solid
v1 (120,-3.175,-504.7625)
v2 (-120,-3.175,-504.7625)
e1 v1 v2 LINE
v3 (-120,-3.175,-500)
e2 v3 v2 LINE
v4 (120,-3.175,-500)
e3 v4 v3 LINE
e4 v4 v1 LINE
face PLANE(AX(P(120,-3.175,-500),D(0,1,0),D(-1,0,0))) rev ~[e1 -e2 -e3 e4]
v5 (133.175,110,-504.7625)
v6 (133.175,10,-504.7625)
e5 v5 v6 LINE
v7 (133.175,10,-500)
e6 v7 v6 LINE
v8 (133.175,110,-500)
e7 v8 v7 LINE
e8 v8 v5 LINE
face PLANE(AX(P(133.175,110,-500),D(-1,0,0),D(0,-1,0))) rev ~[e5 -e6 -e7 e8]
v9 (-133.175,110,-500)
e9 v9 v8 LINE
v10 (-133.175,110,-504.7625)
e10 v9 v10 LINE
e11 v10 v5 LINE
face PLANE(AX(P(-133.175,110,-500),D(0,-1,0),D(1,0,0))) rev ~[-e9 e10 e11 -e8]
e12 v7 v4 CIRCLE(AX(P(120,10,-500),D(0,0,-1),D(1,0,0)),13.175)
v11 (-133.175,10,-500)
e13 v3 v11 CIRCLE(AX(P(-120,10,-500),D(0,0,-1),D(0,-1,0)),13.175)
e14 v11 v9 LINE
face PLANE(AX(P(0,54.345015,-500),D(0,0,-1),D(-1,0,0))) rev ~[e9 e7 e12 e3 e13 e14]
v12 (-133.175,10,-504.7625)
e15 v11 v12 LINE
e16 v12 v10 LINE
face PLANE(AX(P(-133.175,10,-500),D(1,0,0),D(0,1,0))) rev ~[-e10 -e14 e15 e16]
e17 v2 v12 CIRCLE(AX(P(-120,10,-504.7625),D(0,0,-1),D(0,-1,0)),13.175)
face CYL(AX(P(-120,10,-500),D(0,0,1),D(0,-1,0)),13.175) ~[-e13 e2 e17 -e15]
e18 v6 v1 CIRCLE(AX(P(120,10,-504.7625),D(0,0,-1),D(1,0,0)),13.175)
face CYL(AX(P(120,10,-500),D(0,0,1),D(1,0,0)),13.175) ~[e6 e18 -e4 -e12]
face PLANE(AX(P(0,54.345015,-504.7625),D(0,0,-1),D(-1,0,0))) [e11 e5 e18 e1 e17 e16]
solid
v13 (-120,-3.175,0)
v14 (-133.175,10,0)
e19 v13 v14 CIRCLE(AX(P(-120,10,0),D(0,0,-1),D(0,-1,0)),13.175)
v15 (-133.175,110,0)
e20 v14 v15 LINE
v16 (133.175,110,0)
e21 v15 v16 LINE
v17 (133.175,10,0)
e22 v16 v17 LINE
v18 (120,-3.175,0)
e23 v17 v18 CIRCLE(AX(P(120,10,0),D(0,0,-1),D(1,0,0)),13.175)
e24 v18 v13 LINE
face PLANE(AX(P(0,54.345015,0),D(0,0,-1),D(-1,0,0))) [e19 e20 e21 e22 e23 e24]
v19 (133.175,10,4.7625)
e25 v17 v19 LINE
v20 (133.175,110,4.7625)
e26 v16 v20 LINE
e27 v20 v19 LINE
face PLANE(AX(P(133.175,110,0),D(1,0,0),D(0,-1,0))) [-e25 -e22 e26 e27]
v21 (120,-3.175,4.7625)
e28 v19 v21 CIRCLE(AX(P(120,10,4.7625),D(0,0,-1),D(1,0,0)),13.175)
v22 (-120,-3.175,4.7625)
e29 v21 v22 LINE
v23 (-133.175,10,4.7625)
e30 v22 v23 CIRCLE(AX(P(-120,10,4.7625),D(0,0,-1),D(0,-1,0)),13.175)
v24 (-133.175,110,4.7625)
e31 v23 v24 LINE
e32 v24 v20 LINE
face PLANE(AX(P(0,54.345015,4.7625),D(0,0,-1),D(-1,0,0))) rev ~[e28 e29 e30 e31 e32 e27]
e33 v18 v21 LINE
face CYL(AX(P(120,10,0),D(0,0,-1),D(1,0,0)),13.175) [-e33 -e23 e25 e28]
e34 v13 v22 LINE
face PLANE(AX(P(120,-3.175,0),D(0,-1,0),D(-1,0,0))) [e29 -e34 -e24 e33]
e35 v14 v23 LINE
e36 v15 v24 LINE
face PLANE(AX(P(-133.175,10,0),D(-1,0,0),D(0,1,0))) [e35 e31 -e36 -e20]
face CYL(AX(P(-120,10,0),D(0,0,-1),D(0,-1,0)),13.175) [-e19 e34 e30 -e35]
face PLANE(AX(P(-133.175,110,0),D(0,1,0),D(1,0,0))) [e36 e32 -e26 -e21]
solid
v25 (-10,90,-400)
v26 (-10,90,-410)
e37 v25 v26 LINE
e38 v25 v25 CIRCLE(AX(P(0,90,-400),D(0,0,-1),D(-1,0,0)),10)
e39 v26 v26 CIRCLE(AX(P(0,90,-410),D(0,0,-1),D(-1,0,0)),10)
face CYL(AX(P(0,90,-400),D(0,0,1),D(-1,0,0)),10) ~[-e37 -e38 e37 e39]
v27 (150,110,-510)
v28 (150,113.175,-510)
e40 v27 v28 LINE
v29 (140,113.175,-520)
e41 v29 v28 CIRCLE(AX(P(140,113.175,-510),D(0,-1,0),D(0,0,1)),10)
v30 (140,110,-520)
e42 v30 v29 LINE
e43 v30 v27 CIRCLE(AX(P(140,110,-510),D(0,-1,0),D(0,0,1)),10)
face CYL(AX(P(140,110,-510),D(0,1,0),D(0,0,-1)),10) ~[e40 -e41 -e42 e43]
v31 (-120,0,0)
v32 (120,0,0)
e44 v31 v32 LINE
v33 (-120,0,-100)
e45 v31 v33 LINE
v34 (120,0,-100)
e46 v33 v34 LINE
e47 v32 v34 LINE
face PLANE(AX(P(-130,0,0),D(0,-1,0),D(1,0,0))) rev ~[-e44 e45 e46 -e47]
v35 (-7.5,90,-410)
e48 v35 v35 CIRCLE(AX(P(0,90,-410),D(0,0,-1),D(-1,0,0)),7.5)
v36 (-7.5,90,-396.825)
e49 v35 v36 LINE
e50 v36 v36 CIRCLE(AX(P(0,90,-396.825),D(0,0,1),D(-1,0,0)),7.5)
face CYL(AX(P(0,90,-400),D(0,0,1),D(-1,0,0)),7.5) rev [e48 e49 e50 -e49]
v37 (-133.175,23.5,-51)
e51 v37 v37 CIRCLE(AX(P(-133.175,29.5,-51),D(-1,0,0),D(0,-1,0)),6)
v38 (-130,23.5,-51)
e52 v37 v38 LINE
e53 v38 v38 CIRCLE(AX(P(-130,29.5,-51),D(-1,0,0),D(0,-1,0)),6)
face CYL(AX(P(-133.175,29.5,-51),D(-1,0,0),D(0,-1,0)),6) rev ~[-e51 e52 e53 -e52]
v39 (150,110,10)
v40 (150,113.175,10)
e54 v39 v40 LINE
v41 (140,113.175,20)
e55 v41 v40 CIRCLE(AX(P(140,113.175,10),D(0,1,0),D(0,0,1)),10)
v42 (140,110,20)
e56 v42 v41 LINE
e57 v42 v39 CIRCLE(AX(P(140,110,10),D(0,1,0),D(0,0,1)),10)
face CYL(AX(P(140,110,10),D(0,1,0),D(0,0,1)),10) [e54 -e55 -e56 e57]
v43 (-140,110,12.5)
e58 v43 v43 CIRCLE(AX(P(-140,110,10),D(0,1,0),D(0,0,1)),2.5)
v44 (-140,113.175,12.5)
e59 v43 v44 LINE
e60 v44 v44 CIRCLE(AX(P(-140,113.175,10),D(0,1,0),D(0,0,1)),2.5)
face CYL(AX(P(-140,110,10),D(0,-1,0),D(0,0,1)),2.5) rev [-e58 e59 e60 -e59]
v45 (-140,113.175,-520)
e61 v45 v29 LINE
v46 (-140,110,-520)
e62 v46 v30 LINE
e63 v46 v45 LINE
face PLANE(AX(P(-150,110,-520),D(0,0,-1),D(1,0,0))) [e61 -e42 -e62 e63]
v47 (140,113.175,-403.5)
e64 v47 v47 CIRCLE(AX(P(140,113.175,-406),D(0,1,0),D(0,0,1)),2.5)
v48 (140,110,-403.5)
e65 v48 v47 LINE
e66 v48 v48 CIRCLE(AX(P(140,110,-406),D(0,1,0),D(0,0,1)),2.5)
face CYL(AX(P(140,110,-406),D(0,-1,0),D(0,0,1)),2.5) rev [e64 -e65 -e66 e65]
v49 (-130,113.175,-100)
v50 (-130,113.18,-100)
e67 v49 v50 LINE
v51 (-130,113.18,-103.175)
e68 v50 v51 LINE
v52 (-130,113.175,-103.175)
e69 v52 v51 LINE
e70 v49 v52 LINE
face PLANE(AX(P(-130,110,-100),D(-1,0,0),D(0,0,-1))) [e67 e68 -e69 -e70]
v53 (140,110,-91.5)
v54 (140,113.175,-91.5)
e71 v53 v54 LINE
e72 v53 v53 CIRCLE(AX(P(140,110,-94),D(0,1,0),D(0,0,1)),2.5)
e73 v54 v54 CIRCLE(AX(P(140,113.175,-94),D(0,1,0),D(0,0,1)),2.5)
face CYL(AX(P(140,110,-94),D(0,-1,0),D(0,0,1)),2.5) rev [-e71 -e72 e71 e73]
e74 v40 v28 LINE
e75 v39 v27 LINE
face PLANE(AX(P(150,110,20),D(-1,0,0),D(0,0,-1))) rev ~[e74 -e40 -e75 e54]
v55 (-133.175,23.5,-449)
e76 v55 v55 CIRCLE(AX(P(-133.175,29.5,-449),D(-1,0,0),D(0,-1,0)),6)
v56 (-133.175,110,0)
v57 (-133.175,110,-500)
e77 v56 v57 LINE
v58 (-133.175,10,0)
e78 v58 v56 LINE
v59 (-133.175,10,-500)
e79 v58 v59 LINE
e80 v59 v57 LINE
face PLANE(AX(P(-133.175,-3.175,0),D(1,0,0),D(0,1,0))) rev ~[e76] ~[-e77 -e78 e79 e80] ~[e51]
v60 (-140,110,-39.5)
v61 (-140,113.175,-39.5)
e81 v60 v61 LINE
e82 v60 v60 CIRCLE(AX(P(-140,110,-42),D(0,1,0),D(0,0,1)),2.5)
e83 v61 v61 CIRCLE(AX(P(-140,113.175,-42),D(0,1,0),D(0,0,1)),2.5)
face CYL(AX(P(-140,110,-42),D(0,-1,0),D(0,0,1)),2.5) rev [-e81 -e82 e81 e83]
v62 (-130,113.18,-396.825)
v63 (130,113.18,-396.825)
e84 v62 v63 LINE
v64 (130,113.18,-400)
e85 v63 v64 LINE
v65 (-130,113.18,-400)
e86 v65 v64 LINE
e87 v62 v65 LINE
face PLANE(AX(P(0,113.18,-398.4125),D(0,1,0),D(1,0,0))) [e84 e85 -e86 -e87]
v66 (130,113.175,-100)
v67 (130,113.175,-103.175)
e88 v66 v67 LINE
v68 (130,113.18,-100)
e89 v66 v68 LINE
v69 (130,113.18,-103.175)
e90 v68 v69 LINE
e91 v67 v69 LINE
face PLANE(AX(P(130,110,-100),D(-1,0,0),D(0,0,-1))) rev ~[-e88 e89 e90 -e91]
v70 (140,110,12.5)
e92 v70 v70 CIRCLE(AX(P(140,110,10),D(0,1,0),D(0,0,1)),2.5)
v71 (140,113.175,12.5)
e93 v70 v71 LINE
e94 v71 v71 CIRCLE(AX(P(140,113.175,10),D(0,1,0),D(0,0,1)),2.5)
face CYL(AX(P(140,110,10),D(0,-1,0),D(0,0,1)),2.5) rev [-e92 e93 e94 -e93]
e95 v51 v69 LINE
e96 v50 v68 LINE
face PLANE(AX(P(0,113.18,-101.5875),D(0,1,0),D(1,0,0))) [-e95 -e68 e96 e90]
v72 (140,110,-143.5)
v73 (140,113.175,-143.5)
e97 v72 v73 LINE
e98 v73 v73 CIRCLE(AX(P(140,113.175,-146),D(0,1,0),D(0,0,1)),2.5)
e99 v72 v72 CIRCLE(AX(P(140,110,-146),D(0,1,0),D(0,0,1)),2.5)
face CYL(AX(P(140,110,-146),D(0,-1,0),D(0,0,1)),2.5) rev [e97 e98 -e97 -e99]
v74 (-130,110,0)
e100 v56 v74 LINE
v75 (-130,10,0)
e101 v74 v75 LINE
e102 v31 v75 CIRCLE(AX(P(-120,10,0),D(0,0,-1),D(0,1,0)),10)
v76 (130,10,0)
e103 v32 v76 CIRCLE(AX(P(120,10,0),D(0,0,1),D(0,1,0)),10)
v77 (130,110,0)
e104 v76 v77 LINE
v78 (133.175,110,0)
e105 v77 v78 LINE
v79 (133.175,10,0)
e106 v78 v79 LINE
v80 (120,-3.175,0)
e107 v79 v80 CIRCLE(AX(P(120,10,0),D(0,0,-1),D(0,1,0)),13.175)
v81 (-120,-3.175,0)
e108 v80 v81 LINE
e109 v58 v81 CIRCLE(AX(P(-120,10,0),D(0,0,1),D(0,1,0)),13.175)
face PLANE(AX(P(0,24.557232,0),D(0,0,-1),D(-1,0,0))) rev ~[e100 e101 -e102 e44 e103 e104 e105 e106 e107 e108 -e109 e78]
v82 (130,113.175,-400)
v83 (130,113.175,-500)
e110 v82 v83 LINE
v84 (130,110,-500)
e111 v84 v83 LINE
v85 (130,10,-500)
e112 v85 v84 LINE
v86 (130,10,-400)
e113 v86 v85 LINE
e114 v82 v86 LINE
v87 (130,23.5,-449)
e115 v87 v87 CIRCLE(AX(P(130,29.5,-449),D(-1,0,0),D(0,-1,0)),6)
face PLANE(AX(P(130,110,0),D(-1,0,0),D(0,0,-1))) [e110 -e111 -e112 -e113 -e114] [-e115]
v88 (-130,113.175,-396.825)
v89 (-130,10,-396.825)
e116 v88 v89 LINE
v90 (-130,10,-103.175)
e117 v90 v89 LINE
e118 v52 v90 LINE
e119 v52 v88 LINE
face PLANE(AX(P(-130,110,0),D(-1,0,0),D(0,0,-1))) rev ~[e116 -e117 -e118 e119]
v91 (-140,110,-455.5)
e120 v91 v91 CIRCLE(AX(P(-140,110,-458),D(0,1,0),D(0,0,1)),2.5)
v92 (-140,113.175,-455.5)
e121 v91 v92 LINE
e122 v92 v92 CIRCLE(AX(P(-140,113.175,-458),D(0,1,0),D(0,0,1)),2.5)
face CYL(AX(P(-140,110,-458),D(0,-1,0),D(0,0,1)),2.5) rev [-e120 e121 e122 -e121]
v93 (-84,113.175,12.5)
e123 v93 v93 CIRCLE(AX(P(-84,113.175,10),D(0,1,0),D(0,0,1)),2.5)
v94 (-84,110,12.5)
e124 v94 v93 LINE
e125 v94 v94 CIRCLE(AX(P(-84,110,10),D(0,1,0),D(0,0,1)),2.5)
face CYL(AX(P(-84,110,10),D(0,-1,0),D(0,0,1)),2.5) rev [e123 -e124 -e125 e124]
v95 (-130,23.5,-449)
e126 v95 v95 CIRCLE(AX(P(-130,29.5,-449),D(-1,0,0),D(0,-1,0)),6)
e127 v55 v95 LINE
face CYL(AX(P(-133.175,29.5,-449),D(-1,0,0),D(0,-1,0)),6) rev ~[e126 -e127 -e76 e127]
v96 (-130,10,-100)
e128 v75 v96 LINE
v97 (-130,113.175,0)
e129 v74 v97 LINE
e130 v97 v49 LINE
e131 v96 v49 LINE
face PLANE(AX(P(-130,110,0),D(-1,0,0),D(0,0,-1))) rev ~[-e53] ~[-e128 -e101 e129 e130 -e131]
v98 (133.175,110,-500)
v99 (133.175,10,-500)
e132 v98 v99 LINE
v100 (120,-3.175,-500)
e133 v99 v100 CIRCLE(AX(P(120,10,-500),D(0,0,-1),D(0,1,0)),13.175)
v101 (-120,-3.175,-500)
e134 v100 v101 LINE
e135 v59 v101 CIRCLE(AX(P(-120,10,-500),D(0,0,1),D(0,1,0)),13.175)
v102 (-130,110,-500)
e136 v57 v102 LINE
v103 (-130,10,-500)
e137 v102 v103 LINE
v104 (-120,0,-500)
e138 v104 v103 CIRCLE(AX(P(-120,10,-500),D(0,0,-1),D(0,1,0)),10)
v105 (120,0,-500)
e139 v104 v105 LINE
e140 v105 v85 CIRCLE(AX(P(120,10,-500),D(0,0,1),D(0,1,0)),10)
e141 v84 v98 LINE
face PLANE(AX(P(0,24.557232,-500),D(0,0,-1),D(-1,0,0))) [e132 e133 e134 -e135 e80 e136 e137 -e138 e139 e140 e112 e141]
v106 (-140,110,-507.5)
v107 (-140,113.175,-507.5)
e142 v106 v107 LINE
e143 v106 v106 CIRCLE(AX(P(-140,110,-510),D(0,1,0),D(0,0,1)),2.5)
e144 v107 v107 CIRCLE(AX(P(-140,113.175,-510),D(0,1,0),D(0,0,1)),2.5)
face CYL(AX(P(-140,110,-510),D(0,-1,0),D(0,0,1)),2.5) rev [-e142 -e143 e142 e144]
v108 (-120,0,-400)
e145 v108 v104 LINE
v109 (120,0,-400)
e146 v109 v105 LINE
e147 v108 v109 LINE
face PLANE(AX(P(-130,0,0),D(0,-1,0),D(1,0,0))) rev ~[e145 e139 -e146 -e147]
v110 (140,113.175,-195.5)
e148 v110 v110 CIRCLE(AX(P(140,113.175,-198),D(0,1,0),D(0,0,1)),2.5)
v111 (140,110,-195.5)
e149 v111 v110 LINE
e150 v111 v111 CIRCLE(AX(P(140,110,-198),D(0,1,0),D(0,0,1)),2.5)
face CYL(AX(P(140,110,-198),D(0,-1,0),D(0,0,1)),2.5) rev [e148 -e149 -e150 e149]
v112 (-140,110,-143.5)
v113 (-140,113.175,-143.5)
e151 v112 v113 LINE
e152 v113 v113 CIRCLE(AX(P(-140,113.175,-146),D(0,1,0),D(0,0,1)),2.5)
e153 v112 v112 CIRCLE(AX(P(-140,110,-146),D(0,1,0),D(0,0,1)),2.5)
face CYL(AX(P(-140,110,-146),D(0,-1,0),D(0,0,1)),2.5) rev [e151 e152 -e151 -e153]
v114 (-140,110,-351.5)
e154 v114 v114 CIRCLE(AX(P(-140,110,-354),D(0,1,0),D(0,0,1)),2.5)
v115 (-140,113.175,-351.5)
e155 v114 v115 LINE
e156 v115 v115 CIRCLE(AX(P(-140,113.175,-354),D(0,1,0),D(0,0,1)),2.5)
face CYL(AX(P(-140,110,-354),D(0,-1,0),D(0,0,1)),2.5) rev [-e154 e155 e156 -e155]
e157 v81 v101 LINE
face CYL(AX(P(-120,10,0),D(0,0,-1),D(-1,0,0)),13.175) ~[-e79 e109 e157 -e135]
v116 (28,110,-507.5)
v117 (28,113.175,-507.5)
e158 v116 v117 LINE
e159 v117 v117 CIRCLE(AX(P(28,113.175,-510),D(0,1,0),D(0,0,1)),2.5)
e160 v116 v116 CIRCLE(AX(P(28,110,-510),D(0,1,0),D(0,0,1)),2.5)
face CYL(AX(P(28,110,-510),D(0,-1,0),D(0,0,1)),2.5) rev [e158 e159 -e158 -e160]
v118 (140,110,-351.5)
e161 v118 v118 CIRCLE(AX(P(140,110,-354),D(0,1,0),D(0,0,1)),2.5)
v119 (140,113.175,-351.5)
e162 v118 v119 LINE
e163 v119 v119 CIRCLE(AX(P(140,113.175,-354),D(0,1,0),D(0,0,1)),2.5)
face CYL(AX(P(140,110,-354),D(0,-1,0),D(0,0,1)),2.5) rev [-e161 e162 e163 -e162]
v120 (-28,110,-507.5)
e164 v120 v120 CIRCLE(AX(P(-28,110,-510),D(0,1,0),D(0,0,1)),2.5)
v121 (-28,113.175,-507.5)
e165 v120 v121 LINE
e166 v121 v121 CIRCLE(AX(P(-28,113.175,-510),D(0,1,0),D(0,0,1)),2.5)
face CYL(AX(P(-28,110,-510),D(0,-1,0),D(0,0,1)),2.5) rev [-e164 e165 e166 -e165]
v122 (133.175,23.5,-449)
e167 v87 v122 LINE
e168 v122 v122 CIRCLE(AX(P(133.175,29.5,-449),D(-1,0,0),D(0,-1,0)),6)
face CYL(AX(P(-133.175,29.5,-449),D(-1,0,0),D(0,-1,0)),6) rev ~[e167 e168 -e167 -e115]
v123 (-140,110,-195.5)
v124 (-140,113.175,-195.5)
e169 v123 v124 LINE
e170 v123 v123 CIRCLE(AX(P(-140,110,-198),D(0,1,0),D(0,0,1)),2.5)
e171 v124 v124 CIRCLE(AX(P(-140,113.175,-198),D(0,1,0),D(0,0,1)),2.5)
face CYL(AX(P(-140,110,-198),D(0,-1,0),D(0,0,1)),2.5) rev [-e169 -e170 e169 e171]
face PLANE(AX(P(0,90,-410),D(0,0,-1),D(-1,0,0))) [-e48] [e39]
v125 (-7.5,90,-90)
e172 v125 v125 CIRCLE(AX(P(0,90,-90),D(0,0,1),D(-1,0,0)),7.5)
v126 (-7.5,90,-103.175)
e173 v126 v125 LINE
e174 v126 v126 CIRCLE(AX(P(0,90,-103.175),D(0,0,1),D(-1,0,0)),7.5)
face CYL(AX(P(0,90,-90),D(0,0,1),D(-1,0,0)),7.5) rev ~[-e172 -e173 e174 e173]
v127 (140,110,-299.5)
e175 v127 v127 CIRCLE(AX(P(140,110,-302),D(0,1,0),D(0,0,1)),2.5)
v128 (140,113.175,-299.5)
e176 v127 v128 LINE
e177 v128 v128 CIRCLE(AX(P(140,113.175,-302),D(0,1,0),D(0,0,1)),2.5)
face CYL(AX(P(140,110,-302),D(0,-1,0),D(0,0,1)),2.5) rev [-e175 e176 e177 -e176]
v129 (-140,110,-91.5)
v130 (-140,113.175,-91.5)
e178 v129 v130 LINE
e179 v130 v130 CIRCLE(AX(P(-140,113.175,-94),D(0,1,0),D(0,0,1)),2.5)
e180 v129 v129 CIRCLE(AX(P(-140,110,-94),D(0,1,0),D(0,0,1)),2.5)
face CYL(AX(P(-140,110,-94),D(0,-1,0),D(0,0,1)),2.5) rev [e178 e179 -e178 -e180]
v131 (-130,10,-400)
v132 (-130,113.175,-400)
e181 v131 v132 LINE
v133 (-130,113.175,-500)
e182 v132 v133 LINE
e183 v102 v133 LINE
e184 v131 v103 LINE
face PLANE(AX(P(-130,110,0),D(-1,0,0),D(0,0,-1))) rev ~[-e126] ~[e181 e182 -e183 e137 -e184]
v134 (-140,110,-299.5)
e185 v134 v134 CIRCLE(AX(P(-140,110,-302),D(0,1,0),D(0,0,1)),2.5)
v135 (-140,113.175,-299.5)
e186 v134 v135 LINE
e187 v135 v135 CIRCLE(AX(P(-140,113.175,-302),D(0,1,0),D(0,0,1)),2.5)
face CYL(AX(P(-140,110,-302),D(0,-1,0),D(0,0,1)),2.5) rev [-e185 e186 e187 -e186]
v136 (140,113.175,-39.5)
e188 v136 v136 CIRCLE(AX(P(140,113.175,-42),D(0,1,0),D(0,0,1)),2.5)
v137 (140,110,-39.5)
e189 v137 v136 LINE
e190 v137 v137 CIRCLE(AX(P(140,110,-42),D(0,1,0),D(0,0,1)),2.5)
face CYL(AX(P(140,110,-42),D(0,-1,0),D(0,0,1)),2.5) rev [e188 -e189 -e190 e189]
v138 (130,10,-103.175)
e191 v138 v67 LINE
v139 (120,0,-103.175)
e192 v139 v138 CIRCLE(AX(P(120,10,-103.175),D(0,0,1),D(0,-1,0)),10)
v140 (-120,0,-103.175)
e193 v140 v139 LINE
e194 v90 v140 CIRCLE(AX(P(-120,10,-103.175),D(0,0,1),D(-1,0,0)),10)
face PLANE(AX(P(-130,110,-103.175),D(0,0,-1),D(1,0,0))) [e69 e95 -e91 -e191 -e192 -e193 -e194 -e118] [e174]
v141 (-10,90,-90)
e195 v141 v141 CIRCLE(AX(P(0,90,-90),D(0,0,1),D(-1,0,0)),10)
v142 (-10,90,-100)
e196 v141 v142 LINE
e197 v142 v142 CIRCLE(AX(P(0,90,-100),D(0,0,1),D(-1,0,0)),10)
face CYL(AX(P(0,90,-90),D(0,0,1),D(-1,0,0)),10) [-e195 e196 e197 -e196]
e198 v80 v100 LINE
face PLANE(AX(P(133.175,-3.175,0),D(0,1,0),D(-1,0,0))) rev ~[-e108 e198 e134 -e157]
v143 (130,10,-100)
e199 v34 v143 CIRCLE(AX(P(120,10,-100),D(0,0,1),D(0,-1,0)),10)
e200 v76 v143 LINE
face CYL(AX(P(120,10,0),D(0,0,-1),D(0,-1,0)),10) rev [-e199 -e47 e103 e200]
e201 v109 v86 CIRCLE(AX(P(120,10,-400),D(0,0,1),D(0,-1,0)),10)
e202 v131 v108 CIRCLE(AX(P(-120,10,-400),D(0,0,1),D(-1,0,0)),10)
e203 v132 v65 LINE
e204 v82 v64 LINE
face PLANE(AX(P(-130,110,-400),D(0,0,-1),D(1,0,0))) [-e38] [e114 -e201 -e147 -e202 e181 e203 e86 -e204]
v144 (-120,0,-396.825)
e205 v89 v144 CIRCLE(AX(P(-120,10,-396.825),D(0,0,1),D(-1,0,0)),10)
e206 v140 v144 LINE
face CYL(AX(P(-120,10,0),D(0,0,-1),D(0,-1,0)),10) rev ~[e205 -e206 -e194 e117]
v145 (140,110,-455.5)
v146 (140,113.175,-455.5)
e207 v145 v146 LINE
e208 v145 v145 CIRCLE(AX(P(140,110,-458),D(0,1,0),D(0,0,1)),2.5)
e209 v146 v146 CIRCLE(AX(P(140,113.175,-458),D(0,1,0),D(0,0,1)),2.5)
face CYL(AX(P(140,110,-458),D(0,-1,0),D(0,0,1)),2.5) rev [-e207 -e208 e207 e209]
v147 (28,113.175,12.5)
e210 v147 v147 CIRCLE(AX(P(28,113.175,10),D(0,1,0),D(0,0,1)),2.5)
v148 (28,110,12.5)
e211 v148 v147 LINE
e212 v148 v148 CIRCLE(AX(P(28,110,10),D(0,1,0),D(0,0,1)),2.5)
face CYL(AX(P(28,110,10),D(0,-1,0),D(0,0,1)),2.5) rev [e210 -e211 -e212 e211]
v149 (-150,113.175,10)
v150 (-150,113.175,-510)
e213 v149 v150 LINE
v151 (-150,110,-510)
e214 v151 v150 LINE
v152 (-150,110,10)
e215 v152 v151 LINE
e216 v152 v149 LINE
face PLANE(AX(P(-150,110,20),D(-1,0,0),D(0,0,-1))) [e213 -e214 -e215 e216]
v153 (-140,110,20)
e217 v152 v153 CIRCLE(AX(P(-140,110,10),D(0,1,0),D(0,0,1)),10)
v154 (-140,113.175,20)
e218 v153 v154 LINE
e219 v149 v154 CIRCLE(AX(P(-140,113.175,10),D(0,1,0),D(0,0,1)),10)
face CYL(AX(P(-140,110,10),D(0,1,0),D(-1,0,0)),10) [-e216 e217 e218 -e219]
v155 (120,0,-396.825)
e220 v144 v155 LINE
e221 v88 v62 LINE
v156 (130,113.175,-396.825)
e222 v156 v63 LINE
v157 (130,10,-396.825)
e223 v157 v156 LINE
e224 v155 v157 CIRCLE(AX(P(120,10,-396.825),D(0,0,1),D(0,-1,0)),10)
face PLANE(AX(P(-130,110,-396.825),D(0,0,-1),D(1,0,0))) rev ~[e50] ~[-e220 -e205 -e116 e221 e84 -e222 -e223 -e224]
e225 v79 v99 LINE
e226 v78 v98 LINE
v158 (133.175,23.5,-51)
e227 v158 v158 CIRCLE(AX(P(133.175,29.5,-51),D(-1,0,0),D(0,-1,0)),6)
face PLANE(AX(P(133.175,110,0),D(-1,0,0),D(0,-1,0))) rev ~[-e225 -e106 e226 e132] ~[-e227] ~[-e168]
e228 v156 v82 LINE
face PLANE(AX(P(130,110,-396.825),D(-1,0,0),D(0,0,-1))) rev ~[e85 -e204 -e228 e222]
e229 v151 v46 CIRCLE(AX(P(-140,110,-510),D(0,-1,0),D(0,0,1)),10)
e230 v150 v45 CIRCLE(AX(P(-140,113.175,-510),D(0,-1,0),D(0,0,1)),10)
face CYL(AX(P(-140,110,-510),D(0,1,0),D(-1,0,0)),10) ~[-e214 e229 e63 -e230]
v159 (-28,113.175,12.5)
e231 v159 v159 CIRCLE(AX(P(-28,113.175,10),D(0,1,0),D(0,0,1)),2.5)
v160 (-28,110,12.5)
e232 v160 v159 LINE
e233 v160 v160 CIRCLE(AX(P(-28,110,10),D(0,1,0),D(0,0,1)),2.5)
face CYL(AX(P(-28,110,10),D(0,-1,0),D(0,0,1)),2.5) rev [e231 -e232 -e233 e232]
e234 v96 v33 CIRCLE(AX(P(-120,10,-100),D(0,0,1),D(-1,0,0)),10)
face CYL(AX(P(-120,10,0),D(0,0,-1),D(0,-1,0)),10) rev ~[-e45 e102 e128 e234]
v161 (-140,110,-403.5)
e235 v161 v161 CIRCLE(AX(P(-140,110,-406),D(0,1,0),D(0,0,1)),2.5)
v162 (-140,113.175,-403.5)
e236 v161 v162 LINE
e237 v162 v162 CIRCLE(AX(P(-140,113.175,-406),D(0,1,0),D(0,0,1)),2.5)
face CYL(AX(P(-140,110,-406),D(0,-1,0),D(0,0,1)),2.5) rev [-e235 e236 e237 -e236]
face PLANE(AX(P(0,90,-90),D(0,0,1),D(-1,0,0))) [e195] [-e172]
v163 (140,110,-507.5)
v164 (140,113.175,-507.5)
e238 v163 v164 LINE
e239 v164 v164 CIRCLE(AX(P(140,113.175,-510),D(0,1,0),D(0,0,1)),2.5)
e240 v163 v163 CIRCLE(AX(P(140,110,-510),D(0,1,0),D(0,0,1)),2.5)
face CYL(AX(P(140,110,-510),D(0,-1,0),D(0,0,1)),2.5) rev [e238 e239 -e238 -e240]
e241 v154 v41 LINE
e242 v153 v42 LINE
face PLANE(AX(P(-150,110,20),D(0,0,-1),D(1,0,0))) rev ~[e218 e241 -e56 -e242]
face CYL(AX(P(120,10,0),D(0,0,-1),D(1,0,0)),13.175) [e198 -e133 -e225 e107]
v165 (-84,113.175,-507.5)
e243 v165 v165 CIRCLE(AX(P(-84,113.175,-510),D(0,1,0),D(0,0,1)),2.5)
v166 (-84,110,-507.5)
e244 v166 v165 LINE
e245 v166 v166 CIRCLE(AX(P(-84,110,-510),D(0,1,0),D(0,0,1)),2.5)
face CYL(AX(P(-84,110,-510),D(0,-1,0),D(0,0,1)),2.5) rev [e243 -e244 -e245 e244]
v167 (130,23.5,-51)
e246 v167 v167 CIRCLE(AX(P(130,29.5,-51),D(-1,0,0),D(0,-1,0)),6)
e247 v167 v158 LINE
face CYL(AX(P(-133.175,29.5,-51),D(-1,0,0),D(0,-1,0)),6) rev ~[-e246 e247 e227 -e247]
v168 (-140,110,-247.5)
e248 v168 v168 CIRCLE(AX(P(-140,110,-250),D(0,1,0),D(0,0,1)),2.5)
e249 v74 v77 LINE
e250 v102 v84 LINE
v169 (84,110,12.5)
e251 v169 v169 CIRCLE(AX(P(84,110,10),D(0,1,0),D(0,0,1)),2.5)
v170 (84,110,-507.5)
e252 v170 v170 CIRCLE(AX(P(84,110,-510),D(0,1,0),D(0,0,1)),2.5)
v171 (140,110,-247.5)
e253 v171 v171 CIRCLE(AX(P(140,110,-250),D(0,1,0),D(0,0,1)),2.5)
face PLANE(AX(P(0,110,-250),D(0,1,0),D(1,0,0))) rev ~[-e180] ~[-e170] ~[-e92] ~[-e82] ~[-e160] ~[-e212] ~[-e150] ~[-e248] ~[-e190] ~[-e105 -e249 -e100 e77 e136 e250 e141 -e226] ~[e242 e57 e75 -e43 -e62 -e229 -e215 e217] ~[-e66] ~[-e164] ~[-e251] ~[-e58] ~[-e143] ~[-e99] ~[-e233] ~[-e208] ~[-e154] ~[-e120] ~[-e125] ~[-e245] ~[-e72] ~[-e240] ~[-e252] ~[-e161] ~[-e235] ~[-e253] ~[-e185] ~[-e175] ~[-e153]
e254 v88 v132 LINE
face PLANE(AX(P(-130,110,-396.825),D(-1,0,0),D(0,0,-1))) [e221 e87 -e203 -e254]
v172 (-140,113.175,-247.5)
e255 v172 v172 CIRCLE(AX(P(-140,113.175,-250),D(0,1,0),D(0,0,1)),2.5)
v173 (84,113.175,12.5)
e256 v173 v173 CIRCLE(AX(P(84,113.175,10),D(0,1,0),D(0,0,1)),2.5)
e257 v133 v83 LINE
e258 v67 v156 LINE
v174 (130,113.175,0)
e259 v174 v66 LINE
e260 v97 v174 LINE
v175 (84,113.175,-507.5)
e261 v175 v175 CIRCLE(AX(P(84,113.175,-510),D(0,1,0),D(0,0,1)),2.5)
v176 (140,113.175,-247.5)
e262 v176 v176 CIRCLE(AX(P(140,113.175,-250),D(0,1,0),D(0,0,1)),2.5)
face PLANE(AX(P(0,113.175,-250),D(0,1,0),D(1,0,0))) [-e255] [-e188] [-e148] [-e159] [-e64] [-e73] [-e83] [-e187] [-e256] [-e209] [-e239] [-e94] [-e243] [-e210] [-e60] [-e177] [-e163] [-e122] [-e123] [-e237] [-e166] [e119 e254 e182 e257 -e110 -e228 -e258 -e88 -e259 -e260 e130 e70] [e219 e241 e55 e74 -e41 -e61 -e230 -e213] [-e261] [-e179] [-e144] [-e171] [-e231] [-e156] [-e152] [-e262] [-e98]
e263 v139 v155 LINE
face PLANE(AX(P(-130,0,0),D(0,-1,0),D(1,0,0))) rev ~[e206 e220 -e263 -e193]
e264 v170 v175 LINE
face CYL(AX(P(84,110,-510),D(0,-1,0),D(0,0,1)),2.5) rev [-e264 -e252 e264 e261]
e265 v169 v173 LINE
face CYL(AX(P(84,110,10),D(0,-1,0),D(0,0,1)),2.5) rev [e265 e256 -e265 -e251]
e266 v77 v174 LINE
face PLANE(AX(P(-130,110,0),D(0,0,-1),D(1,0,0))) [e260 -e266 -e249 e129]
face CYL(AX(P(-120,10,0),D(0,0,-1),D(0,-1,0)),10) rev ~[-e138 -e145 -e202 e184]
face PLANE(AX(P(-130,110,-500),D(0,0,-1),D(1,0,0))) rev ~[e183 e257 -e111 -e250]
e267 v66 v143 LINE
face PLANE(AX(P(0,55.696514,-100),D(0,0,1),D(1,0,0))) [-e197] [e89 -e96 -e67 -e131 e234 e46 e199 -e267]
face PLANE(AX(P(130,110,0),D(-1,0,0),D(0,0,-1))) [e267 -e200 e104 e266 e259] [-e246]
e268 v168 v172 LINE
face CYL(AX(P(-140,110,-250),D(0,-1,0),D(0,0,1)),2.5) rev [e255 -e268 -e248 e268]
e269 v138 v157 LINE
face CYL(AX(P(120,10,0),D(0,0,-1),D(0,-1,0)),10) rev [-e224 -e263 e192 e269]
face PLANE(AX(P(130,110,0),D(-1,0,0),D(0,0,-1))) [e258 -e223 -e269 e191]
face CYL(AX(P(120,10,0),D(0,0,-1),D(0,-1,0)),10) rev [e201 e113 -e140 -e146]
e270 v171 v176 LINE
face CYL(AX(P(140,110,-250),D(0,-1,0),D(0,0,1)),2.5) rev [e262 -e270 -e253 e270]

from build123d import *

# Parameters (mm, degrees)
INTERIOR_DIM_DEPTH      = 500
FILLET2_R               = 10
FILLET3_R               = 13.175
ENDCAP1_DEPTH           = 4.7625
COMPARTMENT1_BOSS_DEPTH = 3.175
SKETCH9_W               = 300
SKETCH9_H               = 540
SKETCH9_W_2             = 260
SKETCH9_H_2             = 500
LID_FLANGE_DEPTH        = 3.175
FILLET4_R               = 10
ENDCAP2_DEPTH           = 4.7625
COMPARTMENT2_BOSS_DEPTH = 3.175
SKETCH16_R              = 6
BEARING_HOLES_DEPTH     = 603.823905672
WIRE_PASSTHROUGH_START  = -300
SKETCH17_R              = 7.5
WIRE_PASSTHROUGH_DEPTH  = 300
SKETCH18_W              = 260
SKETCH18_H              = 3.175
BOSS_EXTRUDE1_DEPTH     = 3.18
SKETCH17_3_R            = 10
SKETCH17_3_R_2          = 7.5
WIRE_TUBE_2_DEPTH       = 10
WIRE_TUBE_1_START       = 10
SKETCH19_R              = 10
SKETCH19_R_2            = 7.5
WIRE_TUBE_1_DEPTH       = 10
SKETCH20_R              = 2.5
BOLT_HOLES_DEPTH        = 3.175


with BuildPart() as part:
    # Sketch2 → Interior Dim (new body)
    with BuildSketch(Plane.XY):
        Polygon((-130, 0), (130, 0), (130, 110), (133.175, 110), (133.175, -3.175), (-133.175, -3.175), (-133.175, 110), (-130, 110), align=None)
    extrude(amount=-INTERIOR_DIM_DEPTH)

    # Fillet2
    fillet2_edges = [part.edges().sort_by_distance(p)[0] for p in [
        (-130, 0, -250),
        (130, 0, -250),
    ]]
    fillet(fillet2_edges, radius=FILLET2_R)

    # Fillet3
    fillet3_edges = [part.edges().sort_by_distance(p)[0] for p in [
        (-133.175, -3.175, -250),
        (133.175, -3.175, -250),
    ]]
    fillet(fillet3_edges, radius=FILLET3_R)



with BuildPart() as body_2:
    # Sketch4 → Endcap1 (new body)
    with BuildSketch(Plane.XY):
        with BuildLine():
            Line((-130, 110), (130, 110))
            Line((130, 110), (133.175, 110))
            Line((133.175, 110), (133.175, 10))
            ThreePointArc((133.175, 10), (129.316131842, 0.683868158), (120, -3.175))
            Line((120, -3.175), (-120, -3.175))
            ThreePointArc((-120, -3.175), (-129.316131842, 0.683868158), (-133.175, 10))
            Line((-133.175, 10), (-133.175, 110))
            Line((-133.175, 110), (-130, 110))
        make_face()
    extrude(amount=ENDCAP1_DEPTH)


with BuildPart() as body_3:
    # Sketch7 → Compartment1_Boss (new body)
    with BuildSketch(Plane(origin=(0, 0, -100), x_dir=(-1, 0, 0), z_dir=(0, 0, -1))):
        with BuildLine():
            Line((120, 0), (-120, 0))
            ThreePointArc((-120, 0), (-127.071067812, 2.928932188), (-130, 10))
            Line((-130, 10), (-130, 110))
            Line((-130, 110), (130, 110))
            Line((130, 110), (130, 10))
            ThreePointArc((130, 10), (127.071067812, 2.928932188), (120, 0))
        make_face()
    extrude(amount=COMPARTMENT1_BOSS_DEPTH)


with BuildPart() as body_4:
    # Sketch9 → Lid_Flange (new body)
    with BuildSketch(Plane(origin=(0, 110, 0), x_dir=(1, 0, 0), z_dir=(0, 1, 0))):
        with Locations((0, 250)):
            Rectangle(SKETCH9_W, SKETCH9_H)
        with Locations((0, 250)):
            Rectangle(SKETCH9_W_2, SKETCH9_H_2, mode=Mode.SUBTRACT)
    extrude(amount=LID_FLANGE_DEPTH)

    # Fillet4
    fillet4_edges = [body_4.edges().sort_by_distance(p)[0] for p in [
        (150, 111.5875, -520),
        (150, 111.5875, 20),
        (-150, 111.5875, 20),
        (-150, 111.5875, -520),
    ]]
    fillet(fillet4_edges, radius=FILLET4_R)


with BuildPart() as body_5:
    # Sketch5 → Endcap2 (new body)
    with BuildSketch(Plane(origin=(0, 0, -500), x_dir=(-1, 0, 0), z_dir=(0, 0, -1))):
        with BuildLine():
            Line((133.175, 110), (-133.175, 110))
            Line((-133.175, 110), (-133.175, 10))
            ThreePointArc((-133.175, 10), (-129.316131842, 0.683868158), (-120, -3.175))
            Line((-120, -3.175), (120, -3.175))
            ThreePointArc((120, -3.175), (129.316131842, 0.683868158), (133.175, 10))
            Line((133.175, 10), (133.175, 110))
        make_face()
    extrude(amount=ENDCAP2_DEPTH)


with BuildPart() as part_1:
    add(part.part)

    add(body_4.part)  # Compartment2_Boss merges body 4
    # Sketch13 → Compartment2_Boss (add)
    with BuildSketch(Plane.XY.offset(-400)):
        with BuildLine():
            Line((130, 110), (-130, 110))
            Line((-130, 110), (-130, 10))
            ThreePointArc((-130, 10), (-127.071067812, 2.928932188), (-120, 0))
            Line((-120, 0), (120, 0))
            ThreePointArc((120, 0), (127.071067812, 2.928932188), (130, 10))
            Line((130, 10), (130, 110))
        make_face()
    extrude(amount=COMPARTMENT2_BOSS_DEPTH)

    # Sketch16 → Bearing_holes (cut, through all)
    with BuildSketch(Plane.ZY.offset(133.175)):
        with Locations(Location((-449, 29.5, 0), (0, 0, 270))):
            Circle(SKETCH16_R)
        with Locations(Location((-51, 29.5, 0), (0, 0, 270))):
            Circle(SKETCH16_R)
    extrude(amount=-BEARING_HOLES_DEPTH, mode=Mode.SUBTRACT)


with BuildPart() as wire_passthrough_tool:
    # Sketch17 → Wire_Passthrough (new body)
    with BuildSketch(Plane(origin=(0, 0, -400), x_dir=(-1, 0, 0), z_dir=(0, 0, -1)).offset(WIRE_PASSTHROUGH_START)):
        with Locations((0, 90)):
            Circle(SKETCH17_R)
    extrude(amount=WIRE_PASSTHROUGH_DEPTH)


with BuildPart() as part_2:
    add(part_1.part)

    # Wire_Passthrough: cut by wire_passthrough_tool
    add(wire_passthrough_tool.part, mode=Mode.SUBTRACT)



with BuildPart() as body_3_1:
    add(body_3.part)

    # Wire_Passthrough: cut by wire_passthrough_tool
    add(wire_passthrough_tool.part, mode=Mode.SUBTRACT)


with BuildPart() as part_3:
    add(part_2.part)

    add(body_3_1.part)  # Boss-Extrude1 merges body 3
    # Sketch18 → Boss-Extrude1 (add)
    with BuildSketch(Plane(origin=(0, 110, 0), x_dir=(1, 0, 0), z_dir=(0, 1, 0))):
        with Locations((0, 398.4125)):
            Rectangle(SKETCH18_W, SKETCH18_H)
        with Locations((0, 101.5875)):
            Rectangle(SKETCH18_W, SKETCH18_H)
    extrude(amount=BOSS_EXTRUDE1_DEPTH)

    # Sketch17<3> → Wire_Tube_2 (add)
    with BuildSketch(Plane(origin=(0, 0, -400), x_dir=(-1, 0, 0), z_dir=(0, 0, -1))):
        with Locations((0, 90)):
            Circle(SKETCH17_3_R)
        with Locations((0, 90)):
            Circle(SKETCH17_3_R_2, mode=Mode.SUBTRACT)
    extrude(amount=WIRE_TUBE_2_DEPTH)

    # Sketch19 → Wire_Tube_1 (add)
    with BuildSketch(Plane.XY.offset(-100).offset(WIRE_TUBE_1_START)):
        with Locations(Location((0, 90, 0), (0, 0, 180))):
            Circle(SKETCH19_R)
        with Locations(Location((0, 90, 0), (0, 0, 180))):
            Circle(SKETCH19_R_2, mode=Mode.SUBTRACT)
    extrude(amount=-WIRE_TUBE_1_DEPTH)

    # Sketch20 → Bolt_Holes (cut)
    with BuildSketch(Plane(origin=(0, 110, 175), x_dir=(1, 0, 0), z_dir=(0, 1, 0))):
        with Locations(Location((-140, 165, 0), (0, 0, 270))):
            Circle(SKETCH20_R)
        with Locations(Location((-140, 217, 0), (0, 0, 270))):
            Circle(SKETCH20_R)
        with Locations(Location((-140, 269, 0), (0, 0, 270))):
            Circle(SKETCH20_R)
        with Locations(Location((-140, 321, 0), (0, 0, 270))):
            Circle(SKETCH20_R)
        with Locations(Location((-140, 373, 0), (0, 0, 270))):
            Circle(SKETCH20_R)
        with Locations(Location((-140, 425, 0), (0, 0, 270))):
            Circle(SKETCH20_R)
        with Locations(Location((-140, 477, 0), (0, 0, 270))):
            Circle(SKETCH20_R)
        with Locations(Location((-140, 529, 0), (0, 0, 270))):
            Circle(SKETCH20_R)
        with Locations(Location((-140, 581, 0), (0, 0, 270))):
            Circle(SKETCH20_R)
        with Locations(Location((-140, 633, 0), (0, 0, 270))):
            Circle(SKETCH20_R)
        with Locations(Location((-140, 685, 0), (0, 0, 270))):
            Circle(SKETCH20_R)
        with Locations(Location((-84, 685, 0), (0, 0, 270))):
            Circle(SKETCH20_R)
        with Locations(Location((-28, 685, 0), (0, 0, 270))):
            Circle(SKETCH20_R)
        with Locations(Location((28, 685, 0), (0, 0, 270))):
            Circle(SKETCH20_R)
        with Locations(Location((84, 685, 0), (0, 0, 270))):
            Circle(SKETCH20_R)
        with Locations(Location((140, 685, 0), (0, 0, 270))):
            Circle(SKETCH20_R)
        with Locations(Location((140, 633, 0), (0, 0, 270))):
            Circle(SKETCH20_R)
        with Locations(Location((140, 581, 0), (0, 0, 270))):
            Circle(SKETCH20_R)
        with Locations(Location((140, 529, 0), (0, 0, 270))):
            Circle(SKETCH20_R)
        with Locations(Location((140, 477, 0), (0, 0, 270))):
            Circle(SKETCH20_R)
        with Locations(Location((140, 425, 0), (0, 0, 270))):
            Circle(SKETCH20_R)
        with Locations(Location((140, 373, 0), (0, 0, 270))):
            Circle(SKETCH20_R)
        with Locations(Location((140, 321, 0), (0, 0, 270))):
            Circle(SKETCH20_R)
        with Locations(Location((140, 269, 0), (0, 0, 270))):
            Circle(SKETCH20_R)
        with Locations(Location((140, 217, 0), (0, 0, 270))):
            Circle(SKETCH20_R)
        with Locations(Location((140, 165, 0), (0, 0, 270))):
            Circle(SKETCH20_R)
        with Locations(Location((84, 165, 0), (0, 0, 270))):
            Circle(SKETCH20_R)
        with Locations(Location((28, 165, 0), (0, 0, 270))):
            Circle(SKETCH20_R)
        with Locations(Location((-28, 165, 0), (0, 0, 270))):
            Circle(SKETCH20_R)
        with Locations(Location((-84, 165, 0), (0, 0, 270))):
            Circle(SKETCH20_R)
    extrude(amount=BOLT_HOLES_DEPTH, mode=Mode.SUBTRACT)


solid = Compound([body_2.part, body_5.part, part_3.part])
